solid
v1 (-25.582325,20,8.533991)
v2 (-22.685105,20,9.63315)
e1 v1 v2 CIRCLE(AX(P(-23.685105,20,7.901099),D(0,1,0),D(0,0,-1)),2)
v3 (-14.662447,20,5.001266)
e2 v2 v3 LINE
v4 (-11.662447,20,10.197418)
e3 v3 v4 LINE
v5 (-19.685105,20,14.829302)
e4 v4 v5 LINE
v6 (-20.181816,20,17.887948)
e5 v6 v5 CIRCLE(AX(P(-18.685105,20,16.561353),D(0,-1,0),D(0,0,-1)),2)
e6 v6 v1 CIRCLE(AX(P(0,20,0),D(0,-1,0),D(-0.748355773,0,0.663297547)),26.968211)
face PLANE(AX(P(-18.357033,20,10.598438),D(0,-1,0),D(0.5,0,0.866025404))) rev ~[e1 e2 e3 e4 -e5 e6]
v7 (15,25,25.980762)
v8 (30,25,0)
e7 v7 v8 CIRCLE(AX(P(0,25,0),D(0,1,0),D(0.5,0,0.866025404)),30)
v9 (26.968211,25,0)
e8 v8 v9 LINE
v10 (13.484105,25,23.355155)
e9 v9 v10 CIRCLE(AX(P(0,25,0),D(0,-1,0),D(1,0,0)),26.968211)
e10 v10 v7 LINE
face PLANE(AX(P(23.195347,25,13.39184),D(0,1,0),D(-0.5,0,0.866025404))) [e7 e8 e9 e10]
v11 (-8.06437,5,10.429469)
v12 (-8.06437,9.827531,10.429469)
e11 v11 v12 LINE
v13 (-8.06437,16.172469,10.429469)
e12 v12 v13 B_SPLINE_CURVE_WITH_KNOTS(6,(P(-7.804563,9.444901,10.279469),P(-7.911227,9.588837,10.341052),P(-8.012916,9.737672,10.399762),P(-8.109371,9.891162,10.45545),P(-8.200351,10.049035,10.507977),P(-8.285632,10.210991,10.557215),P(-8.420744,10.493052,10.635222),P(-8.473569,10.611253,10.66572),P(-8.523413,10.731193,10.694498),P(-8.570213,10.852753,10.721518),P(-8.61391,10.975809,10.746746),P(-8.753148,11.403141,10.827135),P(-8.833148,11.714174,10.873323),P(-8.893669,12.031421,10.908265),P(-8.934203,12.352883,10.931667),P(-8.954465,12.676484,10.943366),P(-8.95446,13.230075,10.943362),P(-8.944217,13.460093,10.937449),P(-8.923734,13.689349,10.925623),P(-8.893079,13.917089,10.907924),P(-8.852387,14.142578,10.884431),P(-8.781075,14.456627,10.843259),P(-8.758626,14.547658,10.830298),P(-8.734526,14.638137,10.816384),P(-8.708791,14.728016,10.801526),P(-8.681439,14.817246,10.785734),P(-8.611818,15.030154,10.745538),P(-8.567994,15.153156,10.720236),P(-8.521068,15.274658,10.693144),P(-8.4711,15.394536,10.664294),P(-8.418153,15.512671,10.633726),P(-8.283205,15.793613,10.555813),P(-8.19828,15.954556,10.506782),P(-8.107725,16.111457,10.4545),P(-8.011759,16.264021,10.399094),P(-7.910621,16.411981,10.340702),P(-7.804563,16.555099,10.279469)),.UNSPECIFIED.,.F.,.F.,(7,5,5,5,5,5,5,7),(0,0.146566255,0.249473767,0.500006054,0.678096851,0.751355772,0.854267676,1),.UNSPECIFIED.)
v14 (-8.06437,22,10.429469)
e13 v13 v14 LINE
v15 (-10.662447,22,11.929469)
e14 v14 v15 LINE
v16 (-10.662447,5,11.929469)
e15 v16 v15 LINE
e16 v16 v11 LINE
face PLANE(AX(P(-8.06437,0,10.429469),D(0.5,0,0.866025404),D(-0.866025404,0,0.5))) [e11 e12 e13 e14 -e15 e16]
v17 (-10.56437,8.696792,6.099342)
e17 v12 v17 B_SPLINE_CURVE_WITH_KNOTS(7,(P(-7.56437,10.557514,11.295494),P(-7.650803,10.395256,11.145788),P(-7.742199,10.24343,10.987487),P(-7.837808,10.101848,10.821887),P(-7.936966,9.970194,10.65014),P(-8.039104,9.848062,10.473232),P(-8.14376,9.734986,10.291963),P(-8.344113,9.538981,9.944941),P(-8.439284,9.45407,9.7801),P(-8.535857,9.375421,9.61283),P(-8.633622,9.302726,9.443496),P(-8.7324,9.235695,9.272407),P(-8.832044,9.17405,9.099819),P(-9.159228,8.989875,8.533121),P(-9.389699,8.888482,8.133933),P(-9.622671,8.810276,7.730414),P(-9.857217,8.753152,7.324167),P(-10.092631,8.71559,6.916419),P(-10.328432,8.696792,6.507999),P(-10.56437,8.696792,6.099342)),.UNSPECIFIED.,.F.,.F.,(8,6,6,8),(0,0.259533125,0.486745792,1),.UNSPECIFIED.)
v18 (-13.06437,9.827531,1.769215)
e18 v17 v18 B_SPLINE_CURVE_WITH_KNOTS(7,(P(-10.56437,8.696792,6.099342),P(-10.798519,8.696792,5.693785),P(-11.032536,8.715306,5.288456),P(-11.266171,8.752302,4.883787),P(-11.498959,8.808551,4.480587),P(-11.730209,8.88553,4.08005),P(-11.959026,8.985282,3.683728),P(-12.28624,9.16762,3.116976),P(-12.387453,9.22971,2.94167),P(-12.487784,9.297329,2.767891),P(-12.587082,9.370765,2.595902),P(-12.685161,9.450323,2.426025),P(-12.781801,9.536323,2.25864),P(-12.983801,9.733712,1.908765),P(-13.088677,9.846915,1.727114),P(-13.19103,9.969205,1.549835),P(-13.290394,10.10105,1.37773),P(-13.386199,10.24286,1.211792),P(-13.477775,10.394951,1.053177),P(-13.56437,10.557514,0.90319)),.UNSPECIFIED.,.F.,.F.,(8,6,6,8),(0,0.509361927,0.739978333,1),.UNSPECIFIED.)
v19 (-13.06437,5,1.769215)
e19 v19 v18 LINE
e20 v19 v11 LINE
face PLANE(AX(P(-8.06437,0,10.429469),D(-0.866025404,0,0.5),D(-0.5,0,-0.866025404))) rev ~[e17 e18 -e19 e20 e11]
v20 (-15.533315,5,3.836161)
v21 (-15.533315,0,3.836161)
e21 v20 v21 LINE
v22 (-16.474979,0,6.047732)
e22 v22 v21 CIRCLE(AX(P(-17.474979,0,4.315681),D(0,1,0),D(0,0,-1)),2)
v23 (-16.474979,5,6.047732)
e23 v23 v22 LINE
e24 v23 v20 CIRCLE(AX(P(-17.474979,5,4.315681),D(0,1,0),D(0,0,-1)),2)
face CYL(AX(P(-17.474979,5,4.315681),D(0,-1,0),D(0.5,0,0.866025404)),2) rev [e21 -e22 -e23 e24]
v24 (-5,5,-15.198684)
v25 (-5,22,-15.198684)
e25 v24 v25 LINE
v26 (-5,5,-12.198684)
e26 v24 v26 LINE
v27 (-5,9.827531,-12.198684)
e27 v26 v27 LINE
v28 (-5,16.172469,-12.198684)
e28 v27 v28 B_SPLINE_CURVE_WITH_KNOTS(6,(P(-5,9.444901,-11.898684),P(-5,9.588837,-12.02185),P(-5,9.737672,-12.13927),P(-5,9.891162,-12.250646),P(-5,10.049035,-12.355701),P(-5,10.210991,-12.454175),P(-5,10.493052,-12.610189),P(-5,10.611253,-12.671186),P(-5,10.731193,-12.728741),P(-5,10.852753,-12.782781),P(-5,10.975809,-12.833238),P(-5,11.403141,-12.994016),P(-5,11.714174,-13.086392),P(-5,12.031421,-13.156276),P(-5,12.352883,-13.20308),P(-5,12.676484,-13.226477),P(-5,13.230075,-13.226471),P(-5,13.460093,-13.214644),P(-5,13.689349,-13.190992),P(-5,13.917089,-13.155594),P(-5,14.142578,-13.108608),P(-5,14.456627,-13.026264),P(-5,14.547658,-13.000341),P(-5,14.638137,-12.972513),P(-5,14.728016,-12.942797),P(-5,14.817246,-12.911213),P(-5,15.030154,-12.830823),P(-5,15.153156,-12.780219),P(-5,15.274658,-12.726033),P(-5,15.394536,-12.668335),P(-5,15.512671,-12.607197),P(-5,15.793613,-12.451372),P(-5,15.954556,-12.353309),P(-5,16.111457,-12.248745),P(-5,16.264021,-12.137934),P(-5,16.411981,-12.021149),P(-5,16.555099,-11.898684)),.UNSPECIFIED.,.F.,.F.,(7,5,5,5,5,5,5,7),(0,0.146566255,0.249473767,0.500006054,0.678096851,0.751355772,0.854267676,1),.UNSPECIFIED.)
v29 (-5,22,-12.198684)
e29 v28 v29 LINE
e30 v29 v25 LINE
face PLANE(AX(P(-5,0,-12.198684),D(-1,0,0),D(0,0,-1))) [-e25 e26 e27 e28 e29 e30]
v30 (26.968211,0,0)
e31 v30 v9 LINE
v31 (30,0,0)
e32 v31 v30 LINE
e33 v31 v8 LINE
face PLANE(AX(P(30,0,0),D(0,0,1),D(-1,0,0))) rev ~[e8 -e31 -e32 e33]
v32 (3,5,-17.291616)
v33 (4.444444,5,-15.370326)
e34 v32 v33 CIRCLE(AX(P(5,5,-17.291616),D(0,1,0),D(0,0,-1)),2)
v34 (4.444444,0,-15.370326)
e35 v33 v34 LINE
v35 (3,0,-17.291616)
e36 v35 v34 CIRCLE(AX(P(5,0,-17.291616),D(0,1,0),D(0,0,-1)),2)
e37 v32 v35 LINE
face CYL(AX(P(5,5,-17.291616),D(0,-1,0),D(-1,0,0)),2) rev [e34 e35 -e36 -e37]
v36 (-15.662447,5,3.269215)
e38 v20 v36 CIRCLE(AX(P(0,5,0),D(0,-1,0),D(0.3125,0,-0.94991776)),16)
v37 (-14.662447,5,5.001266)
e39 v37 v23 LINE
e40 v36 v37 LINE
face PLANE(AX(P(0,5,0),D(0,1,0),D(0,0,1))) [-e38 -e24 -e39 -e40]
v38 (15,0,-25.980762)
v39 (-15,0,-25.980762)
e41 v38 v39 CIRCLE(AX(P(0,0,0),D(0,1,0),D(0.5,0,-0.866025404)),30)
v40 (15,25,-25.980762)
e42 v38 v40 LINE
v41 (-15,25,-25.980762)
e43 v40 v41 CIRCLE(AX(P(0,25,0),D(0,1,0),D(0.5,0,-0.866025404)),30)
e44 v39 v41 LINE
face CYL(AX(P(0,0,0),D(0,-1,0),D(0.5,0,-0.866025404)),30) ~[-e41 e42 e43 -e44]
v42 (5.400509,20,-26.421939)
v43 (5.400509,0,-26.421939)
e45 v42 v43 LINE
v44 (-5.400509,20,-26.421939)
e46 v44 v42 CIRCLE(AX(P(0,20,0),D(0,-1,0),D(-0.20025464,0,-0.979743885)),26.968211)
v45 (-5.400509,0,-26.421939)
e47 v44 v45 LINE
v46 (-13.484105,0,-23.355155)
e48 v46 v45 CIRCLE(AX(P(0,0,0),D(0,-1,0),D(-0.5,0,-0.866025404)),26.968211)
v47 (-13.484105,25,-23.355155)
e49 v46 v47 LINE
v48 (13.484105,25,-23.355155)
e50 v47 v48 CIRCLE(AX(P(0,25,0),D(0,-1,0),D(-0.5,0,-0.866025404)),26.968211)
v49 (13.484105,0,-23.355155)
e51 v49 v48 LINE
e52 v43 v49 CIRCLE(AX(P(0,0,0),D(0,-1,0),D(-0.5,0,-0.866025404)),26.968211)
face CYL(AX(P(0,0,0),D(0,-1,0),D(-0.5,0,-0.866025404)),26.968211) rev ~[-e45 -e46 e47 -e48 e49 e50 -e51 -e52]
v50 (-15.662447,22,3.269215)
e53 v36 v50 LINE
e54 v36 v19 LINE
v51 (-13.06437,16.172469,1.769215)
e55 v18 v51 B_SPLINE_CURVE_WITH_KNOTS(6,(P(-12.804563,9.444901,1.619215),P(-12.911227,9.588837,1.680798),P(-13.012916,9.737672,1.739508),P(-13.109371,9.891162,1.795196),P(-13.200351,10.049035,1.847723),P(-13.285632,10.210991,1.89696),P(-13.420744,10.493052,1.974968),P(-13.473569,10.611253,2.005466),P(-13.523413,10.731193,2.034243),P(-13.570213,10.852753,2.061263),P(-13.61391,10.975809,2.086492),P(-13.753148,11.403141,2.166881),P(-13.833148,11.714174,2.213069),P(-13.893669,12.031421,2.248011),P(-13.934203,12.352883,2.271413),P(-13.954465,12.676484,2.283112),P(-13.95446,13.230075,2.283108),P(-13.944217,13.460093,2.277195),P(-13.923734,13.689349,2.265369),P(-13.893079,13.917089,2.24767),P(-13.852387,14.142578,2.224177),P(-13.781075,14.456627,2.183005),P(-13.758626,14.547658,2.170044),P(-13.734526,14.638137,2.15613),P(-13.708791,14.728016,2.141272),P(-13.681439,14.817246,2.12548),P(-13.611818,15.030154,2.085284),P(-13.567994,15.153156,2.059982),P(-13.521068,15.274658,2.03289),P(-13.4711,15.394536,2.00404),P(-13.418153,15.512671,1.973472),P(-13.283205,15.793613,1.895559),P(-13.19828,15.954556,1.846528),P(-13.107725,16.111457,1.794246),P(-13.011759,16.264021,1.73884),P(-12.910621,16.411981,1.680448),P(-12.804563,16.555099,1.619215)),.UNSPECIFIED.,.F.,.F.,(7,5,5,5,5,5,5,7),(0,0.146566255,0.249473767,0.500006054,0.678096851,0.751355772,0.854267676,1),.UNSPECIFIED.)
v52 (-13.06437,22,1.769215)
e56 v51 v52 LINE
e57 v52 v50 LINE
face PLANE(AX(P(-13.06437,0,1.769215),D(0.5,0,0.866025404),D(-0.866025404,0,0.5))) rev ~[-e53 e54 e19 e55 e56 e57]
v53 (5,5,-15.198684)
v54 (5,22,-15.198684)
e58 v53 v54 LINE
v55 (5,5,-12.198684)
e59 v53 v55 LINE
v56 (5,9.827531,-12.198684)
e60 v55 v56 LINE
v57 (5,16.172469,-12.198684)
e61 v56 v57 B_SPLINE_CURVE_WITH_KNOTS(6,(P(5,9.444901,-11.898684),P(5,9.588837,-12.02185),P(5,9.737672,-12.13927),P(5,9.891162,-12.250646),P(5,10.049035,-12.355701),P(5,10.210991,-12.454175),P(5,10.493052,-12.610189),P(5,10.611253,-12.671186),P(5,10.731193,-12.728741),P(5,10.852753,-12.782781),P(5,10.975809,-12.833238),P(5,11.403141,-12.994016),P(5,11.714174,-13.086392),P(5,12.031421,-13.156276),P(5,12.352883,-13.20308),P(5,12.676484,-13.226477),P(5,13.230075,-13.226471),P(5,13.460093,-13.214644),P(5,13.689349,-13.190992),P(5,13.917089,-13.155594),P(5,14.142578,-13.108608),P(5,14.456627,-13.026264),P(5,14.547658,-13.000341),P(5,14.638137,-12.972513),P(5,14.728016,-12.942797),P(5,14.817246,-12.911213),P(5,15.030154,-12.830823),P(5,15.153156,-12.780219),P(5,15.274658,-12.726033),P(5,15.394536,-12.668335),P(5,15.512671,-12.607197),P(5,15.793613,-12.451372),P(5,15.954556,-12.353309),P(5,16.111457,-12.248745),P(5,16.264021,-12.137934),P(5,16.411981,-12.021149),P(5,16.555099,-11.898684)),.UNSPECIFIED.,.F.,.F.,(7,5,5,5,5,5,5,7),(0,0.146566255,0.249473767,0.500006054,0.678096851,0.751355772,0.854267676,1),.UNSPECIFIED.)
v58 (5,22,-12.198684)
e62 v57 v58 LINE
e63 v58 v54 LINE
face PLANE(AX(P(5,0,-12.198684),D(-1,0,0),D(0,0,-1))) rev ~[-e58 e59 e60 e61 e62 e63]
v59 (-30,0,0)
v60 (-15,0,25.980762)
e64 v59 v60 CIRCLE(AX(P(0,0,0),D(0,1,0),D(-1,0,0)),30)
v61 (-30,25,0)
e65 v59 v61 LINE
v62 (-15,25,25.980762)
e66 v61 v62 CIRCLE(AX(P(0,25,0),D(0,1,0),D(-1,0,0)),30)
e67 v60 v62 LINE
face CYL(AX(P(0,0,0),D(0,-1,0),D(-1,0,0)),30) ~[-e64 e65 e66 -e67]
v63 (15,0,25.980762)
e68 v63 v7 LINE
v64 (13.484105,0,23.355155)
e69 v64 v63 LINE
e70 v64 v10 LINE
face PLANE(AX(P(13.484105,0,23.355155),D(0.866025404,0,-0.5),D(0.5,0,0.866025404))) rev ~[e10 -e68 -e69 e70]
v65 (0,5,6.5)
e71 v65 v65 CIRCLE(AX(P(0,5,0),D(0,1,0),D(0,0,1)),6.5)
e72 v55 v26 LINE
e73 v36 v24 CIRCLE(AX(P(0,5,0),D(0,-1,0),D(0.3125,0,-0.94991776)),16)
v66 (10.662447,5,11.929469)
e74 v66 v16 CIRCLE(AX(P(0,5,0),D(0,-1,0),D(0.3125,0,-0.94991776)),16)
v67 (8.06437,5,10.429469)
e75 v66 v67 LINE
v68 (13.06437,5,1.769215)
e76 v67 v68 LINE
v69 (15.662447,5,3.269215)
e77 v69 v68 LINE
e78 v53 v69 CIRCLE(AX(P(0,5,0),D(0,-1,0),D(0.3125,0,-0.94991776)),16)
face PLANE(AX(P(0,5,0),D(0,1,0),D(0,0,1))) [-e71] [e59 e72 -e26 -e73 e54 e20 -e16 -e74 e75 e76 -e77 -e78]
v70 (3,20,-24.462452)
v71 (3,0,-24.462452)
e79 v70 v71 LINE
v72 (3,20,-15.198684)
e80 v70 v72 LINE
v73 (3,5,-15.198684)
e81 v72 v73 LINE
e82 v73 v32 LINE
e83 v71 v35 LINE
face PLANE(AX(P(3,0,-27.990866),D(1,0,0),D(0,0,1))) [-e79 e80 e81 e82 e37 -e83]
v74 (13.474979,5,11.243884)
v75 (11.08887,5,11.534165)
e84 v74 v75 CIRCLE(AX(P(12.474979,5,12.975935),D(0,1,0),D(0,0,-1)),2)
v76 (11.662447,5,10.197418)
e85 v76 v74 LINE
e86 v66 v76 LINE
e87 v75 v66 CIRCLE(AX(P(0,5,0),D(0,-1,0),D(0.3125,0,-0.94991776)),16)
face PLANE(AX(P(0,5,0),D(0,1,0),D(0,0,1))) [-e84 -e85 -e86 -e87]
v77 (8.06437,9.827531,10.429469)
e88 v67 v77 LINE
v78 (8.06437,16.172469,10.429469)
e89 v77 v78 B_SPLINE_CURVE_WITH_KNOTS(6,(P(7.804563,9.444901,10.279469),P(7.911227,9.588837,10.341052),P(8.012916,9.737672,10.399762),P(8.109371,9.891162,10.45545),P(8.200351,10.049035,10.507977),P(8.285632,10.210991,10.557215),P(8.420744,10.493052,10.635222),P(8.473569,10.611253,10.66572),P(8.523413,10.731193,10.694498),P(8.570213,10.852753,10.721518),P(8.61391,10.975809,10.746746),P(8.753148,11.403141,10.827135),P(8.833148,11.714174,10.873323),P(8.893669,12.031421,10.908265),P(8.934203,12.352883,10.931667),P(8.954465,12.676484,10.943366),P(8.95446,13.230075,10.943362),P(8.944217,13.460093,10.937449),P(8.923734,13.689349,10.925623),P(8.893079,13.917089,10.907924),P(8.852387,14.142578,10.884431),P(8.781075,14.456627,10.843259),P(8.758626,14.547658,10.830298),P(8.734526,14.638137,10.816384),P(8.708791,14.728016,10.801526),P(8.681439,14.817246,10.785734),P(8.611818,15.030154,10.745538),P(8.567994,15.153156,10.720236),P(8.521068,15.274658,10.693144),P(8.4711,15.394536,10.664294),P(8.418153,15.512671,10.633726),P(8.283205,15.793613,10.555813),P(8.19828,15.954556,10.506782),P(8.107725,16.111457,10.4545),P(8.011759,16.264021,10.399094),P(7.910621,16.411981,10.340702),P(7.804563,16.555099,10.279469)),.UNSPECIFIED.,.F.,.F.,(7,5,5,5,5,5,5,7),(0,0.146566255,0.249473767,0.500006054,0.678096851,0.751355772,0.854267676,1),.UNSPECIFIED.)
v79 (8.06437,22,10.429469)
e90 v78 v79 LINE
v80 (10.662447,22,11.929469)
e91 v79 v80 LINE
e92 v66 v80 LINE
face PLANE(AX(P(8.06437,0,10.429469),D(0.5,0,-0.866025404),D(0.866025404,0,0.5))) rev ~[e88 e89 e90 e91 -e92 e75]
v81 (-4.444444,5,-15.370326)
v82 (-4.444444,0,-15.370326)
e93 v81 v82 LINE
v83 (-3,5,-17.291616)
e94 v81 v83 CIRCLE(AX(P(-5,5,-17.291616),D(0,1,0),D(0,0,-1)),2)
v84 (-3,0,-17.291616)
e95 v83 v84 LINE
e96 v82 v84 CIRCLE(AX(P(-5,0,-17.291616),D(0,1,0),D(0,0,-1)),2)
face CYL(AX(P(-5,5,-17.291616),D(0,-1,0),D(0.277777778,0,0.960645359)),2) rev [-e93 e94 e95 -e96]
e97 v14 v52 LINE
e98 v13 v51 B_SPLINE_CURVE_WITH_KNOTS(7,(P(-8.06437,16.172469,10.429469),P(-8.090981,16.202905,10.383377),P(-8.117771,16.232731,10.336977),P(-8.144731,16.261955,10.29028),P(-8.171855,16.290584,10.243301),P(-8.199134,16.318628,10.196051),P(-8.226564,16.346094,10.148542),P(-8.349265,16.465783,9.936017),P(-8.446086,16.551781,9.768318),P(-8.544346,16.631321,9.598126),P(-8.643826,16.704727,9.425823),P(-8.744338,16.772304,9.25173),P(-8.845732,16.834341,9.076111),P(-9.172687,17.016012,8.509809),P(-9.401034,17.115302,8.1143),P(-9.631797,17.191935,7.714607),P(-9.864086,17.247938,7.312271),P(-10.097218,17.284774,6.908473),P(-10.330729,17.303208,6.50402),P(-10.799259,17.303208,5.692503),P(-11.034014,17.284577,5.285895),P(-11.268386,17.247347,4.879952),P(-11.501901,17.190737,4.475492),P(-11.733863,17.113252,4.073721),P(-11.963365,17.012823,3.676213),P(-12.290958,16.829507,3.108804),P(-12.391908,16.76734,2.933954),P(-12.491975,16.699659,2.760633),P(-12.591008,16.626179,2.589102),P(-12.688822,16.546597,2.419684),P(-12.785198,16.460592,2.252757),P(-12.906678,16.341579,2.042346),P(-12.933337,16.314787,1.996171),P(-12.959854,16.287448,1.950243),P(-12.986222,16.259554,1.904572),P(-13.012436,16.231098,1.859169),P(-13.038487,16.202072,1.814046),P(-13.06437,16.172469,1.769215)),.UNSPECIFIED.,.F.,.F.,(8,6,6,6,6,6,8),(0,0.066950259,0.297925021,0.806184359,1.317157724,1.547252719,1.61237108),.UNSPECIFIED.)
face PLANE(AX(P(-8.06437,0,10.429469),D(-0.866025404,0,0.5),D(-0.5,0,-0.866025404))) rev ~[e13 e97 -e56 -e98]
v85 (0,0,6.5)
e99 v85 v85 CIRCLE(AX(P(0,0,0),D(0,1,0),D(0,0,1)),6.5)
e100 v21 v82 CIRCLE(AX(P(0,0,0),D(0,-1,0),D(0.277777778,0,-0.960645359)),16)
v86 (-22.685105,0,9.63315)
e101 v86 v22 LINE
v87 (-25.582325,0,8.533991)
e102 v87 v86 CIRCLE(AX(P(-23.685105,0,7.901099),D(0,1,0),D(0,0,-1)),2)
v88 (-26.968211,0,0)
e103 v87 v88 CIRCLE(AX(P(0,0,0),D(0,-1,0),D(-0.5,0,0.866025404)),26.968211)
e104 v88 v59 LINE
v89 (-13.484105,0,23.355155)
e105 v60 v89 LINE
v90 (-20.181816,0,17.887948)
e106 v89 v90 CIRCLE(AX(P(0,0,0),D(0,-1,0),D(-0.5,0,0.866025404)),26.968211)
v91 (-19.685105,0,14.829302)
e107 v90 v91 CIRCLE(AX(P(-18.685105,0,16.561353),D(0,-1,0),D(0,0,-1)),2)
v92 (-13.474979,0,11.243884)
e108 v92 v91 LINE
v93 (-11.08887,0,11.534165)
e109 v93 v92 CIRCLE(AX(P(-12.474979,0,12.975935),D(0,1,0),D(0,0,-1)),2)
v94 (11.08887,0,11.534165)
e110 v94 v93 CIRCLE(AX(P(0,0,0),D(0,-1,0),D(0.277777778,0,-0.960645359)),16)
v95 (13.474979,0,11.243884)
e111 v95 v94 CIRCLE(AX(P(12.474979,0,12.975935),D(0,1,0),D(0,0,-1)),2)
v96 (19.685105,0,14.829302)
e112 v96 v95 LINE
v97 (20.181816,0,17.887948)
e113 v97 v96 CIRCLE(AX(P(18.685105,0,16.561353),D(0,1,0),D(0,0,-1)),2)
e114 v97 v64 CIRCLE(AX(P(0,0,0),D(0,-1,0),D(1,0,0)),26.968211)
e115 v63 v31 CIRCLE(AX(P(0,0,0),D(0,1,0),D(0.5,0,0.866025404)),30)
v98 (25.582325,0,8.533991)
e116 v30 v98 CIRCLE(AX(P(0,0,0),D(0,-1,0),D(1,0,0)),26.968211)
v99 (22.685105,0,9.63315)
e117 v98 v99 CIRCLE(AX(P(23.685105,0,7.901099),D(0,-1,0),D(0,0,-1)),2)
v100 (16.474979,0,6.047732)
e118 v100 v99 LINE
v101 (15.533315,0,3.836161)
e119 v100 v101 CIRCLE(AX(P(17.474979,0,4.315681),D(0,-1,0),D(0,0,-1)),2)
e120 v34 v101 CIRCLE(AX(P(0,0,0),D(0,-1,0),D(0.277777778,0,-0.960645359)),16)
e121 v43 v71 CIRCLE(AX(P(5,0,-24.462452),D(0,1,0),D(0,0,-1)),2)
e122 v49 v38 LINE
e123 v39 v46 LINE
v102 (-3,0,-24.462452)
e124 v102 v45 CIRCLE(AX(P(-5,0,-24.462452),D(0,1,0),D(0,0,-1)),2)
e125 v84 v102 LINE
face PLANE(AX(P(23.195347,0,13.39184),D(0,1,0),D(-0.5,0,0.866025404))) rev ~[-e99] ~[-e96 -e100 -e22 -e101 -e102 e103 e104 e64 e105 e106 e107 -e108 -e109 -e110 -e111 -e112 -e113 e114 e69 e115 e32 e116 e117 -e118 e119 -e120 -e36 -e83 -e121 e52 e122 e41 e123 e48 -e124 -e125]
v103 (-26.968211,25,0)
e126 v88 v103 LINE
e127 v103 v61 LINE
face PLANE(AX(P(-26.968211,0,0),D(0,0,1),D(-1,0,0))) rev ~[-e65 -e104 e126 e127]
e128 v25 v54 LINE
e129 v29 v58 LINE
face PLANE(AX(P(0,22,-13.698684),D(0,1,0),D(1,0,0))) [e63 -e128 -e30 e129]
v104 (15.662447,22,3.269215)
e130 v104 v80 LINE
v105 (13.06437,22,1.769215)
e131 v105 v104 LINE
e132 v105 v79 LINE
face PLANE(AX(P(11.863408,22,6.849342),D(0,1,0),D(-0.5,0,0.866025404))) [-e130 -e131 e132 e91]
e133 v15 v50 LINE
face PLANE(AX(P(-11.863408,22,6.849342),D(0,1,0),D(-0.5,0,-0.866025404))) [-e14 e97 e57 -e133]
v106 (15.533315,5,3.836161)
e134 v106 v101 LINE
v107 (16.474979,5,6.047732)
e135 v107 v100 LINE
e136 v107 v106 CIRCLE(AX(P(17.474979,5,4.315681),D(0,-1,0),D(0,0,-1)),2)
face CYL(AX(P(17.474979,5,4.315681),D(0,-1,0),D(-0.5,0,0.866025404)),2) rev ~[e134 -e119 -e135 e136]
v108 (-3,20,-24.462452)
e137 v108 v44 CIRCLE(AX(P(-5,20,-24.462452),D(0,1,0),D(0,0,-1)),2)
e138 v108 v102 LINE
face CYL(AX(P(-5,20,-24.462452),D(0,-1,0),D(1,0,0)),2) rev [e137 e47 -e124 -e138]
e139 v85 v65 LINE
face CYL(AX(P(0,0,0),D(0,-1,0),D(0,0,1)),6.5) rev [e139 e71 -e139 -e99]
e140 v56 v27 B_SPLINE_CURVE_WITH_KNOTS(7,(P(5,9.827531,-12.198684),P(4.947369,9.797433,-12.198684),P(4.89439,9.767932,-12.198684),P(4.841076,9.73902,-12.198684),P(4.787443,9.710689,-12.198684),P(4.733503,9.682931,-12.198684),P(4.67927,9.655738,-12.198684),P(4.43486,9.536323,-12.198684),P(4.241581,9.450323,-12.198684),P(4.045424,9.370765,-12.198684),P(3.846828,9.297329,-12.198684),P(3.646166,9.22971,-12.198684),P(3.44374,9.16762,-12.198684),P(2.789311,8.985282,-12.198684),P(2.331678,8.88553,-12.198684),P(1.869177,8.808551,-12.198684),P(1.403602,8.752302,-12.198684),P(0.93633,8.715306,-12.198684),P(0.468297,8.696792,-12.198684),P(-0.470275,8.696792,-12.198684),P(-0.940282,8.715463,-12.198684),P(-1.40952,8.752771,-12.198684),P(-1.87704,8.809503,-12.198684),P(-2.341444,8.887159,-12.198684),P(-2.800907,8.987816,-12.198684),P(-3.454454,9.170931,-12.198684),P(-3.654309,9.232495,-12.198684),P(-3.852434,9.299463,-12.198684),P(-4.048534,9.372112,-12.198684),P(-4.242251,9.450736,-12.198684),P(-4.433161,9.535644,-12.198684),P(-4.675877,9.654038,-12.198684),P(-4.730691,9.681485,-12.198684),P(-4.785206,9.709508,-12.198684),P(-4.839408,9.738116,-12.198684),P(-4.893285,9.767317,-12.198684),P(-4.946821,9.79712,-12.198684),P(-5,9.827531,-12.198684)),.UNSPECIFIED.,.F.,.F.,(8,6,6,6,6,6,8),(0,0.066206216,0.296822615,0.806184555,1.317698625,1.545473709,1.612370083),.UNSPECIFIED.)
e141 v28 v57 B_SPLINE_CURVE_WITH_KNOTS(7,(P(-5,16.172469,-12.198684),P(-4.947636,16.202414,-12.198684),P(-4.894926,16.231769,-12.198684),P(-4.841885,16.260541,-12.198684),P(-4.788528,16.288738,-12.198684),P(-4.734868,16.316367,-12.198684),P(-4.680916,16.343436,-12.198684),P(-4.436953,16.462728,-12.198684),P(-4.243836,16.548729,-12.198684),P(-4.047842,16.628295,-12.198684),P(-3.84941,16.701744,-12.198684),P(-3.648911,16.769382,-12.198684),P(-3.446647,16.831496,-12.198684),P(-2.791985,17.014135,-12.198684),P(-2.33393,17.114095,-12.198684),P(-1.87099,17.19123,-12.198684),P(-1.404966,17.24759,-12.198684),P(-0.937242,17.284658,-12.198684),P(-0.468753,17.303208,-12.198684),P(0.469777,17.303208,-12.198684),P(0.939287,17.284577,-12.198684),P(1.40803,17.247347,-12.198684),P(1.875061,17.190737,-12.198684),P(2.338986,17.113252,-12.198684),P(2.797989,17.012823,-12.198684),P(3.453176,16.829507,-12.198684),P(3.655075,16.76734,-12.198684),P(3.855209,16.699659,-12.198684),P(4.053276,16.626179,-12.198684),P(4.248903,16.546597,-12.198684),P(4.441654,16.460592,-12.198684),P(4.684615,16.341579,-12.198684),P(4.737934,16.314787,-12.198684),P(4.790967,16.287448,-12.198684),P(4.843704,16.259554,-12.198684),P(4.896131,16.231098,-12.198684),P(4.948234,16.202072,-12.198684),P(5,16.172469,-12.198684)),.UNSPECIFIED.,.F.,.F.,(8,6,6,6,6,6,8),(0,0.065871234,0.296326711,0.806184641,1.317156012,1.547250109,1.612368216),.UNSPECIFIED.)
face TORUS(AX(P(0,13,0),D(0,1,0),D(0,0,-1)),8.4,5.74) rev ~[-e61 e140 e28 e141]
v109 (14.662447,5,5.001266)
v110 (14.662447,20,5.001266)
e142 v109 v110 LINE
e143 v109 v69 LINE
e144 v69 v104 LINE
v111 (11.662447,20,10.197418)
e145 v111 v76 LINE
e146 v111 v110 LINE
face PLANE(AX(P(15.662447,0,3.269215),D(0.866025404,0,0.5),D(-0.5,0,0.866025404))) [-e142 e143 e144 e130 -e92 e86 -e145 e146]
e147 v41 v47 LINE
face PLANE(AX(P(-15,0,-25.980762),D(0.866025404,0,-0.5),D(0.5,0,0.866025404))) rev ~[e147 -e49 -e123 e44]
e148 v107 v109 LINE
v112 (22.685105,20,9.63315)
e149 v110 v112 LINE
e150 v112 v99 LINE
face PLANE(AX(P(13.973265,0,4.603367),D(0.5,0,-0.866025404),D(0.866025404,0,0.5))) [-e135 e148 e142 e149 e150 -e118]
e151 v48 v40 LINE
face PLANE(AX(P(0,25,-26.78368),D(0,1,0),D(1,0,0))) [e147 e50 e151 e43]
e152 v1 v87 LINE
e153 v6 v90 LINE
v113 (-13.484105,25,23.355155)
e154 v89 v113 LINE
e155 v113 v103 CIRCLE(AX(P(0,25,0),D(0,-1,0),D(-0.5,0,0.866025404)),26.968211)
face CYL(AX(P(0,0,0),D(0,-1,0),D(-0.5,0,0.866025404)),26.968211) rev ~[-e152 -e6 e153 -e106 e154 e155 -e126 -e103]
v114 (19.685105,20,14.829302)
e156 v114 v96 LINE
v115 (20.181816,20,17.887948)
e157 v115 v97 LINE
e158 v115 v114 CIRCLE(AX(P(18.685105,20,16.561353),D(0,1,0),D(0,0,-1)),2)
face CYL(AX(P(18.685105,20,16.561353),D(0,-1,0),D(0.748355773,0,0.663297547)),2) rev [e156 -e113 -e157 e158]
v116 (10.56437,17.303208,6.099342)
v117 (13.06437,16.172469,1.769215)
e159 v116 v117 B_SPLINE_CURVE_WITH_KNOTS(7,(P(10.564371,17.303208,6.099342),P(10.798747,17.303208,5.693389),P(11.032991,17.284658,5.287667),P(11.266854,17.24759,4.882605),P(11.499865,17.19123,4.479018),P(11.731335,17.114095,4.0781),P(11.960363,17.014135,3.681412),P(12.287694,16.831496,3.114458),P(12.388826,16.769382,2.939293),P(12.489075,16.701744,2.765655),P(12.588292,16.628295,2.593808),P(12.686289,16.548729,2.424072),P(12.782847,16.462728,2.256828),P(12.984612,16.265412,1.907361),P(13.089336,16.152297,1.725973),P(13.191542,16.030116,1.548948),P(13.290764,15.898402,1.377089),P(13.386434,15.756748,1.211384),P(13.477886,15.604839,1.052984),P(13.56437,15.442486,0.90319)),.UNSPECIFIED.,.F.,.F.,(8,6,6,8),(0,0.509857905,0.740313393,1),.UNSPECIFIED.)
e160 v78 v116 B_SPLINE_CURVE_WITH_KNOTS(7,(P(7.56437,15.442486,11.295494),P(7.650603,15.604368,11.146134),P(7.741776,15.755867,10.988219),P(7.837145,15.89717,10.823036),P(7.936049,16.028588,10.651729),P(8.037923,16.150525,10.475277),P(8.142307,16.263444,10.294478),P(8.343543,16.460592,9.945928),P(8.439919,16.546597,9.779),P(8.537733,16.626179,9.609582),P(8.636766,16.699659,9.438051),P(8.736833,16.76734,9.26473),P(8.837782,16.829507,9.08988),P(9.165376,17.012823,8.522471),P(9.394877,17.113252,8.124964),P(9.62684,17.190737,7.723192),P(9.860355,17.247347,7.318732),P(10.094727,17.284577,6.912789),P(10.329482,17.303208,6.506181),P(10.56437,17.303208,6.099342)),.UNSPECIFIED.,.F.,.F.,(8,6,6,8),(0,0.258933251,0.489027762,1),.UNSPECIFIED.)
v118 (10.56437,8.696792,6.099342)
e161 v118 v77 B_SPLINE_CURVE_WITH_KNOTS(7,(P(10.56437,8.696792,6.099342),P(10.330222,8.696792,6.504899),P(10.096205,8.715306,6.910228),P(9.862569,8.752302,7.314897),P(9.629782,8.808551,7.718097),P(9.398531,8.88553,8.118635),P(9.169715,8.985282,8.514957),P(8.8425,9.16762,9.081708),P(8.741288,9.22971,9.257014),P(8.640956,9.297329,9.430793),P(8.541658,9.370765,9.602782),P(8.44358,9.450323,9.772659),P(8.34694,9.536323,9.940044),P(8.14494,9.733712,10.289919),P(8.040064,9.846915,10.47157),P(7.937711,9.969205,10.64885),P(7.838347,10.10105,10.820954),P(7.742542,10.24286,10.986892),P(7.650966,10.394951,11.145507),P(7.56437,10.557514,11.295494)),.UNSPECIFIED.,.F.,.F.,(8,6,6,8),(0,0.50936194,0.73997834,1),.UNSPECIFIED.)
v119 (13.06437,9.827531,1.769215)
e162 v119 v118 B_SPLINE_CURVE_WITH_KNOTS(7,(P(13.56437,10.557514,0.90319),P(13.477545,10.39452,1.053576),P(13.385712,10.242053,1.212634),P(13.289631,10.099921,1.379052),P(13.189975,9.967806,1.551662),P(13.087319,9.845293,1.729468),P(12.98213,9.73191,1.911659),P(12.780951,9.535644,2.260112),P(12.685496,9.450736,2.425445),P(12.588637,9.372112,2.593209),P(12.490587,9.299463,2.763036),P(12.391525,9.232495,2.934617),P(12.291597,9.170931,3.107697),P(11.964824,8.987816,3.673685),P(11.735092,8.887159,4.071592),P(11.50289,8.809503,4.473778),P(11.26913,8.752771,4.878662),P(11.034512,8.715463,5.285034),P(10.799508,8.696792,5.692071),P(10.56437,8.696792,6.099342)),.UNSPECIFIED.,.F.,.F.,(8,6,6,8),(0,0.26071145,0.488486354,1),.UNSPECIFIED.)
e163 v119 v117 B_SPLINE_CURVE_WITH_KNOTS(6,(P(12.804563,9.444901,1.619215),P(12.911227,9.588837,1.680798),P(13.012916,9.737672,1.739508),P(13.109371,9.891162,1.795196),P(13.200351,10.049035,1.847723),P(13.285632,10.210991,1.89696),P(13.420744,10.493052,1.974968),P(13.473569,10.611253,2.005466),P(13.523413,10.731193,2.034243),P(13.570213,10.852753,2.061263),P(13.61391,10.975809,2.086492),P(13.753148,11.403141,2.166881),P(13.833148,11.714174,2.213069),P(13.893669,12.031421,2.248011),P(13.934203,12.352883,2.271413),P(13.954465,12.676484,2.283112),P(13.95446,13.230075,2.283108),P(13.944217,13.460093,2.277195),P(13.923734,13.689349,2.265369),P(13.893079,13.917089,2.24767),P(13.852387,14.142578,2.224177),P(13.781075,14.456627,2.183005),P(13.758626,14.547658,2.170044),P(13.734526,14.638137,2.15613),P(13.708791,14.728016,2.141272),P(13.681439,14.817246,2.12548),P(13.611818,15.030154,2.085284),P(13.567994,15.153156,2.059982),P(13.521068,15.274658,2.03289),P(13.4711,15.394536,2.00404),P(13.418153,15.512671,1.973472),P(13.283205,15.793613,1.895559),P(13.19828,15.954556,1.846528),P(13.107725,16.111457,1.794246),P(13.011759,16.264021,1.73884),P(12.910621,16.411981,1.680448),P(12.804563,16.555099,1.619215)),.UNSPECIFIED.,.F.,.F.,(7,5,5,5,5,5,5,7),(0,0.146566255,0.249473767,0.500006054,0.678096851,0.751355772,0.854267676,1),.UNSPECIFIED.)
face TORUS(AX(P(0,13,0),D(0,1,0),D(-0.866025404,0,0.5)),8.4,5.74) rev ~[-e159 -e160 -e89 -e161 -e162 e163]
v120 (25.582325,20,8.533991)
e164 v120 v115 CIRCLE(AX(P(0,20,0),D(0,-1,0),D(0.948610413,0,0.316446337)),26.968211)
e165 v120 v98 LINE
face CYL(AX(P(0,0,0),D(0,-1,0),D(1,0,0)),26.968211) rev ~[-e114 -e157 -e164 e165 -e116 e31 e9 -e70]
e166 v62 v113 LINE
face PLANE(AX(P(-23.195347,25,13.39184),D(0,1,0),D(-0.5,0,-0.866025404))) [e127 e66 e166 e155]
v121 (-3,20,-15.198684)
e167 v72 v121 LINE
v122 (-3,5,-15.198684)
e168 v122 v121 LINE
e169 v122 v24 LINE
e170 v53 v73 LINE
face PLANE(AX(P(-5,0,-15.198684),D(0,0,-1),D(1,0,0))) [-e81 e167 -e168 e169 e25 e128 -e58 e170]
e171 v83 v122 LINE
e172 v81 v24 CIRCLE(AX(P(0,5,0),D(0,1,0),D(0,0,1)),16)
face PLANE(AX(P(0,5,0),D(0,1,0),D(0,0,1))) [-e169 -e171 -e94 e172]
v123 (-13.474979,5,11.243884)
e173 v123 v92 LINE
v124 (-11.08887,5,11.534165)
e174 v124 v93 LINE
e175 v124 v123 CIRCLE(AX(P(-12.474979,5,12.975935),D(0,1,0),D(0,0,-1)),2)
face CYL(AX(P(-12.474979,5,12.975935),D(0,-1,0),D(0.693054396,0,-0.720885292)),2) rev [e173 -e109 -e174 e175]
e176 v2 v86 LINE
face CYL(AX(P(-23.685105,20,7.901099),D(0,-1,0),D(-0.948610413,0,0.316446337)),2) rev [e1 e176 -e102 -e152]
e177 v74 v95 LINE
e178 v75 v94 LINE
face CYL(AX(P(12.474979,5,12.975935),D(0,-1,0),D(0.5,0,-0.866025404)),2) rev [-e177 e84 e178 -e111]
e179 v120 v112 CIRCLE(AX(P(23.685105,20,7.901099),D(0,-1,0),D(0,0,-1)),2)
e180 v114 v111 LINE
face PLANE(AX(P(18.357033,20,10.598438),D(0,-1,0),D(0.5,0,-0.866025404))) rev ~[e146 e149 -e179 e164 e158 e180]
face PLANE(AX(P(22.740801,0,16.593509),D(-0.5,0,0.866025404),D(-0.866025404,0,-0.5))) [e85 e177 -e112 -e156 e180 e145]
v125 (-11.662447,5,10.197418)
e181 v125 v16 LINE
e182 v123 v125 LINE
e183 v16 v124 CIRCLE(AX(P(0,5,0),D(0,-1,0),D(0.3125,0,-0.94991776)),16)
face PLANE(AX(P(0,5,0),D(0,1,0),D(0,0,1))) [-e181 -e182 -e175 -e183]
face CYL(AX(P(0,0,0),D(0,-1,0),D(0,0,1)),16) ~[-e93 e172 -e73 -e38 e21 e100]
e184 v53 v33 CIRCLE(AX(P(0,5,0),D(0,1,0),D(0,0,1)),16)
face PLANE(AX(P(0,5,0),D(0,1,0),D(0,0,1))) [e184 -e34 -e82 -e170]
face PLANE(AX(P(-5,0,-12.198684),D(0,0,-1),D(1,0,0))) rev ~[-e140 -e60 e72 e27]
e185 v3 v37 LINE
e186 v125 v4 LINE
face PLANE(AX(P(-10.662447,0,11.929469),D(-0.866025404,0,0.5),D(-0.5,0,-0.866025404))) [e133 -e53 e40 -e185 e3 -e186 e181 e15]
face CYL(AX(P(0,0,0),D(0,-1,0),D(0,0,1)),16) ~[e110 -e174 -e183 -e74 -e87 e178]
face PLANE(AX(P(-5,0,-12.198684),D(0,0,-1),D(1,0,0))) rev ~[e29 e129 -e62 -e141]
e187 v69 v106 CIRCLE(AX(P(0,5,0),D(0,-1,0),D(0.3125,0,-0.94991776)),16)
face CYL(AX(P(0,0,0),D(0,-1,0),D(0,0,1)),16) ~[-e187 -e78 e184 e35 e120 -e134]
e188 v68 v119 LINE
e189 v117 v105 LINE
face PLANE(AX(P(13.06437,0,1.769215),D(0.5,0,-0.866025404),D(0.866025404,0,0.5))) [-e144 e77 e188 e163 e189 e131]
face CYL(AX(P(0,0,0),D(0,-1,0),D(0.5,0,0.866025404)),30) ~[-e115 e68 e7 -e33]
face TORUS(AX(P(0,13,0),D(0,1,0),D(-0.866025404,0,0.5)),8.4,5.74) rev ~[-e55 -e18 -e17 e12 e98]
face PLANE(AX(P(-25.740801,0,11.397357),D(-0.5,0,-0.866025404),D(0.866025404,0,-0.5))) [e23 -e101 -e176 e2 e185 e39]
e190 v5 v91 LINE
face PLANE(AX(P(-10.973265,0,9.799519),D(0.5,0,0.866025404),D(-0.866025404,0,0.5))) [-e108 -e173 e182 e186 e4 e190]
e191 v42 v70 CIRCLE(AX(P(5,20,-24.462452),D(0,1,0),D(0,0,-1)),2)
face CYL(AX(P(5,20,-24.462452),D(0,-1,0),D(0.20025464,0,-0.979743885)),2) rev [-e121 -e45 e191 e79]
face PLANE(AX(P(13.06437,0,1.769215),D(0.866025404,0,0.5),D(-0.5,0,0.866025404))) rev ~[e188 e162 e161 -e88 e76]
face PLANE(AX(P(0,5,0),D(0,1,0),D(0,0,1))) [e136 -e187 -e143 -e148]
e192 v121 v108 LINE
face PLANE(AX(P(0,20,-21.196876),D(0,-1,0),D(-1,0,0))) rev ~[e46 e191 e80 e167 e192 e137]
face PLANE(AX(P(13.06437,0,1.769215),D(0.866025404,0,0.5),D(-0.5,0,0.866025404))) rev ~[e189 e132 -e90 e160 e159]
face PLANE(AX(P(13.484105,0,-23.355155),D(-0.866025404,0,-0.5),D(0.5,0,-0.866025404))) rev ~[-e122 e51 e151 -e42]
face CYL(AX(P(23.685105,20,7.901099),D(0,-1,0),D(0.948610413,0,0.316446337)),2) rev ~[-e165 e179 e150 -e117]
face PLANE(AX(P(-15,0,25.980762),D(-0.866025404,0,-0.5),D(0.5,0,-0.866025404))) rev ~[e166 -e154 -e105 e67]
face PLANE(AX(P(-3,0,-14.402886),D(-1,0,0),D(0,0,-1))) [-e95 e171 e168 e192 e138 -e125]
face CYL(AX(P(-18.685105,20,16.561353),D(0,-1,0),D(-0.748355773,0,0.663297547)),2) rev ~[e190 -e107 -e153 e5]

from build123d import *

# Parameters (mm, degrees)
SKETCH_1_R               = 16
SKETCH_1_R_2             = 6.5
EXTRUDE_1_DEPTH          = 5
SKETCH_2_W               = 10
SKETCH_2_H               = 3
EXTRUDE_2_DEPTH          = 22
EXTRUDE_3_DEPTH          = 25
EXTRUDE_4_DEPTH          = 20
FILLET_1_R               = 2
FILLET_2_R               = 2
FILLET_3_R               = 2
FILLET_4_R               = 2
PATTERN_CIRCULAR_4_COUNT = 3
PATTERN_CIRCULAR_5_COUNT = 3
FILLET_5_R               = 2


with BuildPart() as part:
    # 草图1 → 凸台-拉伸1 (new body)
    with BuildSketch(Plane(origin=(0, 0, 0), x_dir=(1, 0, 0), z_dir=(0, 1, 0))):
        with Locations(Location((0, 0, 0), (0, 0, 270))):
            Circle(SKETCH_1_R)
        with Locations(Location((0, 0, 0), (0, 0, 270))):
            Circle(SKETCH_1_R_2, mode=Mode.SUBTRACT)
    extrude(amount=EXTRUDE_1_DEPTH)

    # 草图2 → 凸台-拉伸2 (add)
    with BuildSketch(Plane(origin=(0, 0, 0), x_dir=(1, 0, 0), z_dir=(0, 1, 0))):
        with Locations((-1.78e-15, 13.698684153570664)):
            Rectangle(SKETCH_2_W, SKETCH_2_H)
    extrude_2 = extrude(amount=EXTRUDE_2_DEPTH)



with BuildPart() as body_2:
    # 草图3 → 凸台-拉伸3 (new body)
    with BuildSketch(Plane(origin=(0, 0, 0), x_dir=(1, 0, 0), z_dir=(0, 1, 0))):
        with BuildLine():
            Line((-15.000000000000039, 25.98076211353314), (-13.484105265359647, 23.355155414209925))
            ThreePointArc((-13.484105265359647, 23.355155414209925), (1.65e-15, 26.968210530719293), (13.484105265359647, 23.355155414209925))
            Line((13.484105265359647, 23.355155414209925), (15.000000000000039, 25.98076211353314))
            ThreePointArc((15.000000000000039, 25.98076211353314), (1.84e-15, 30), (-15.000000000000039, 25.98076211353314))
        make_face()
    extrude_3 = extrude(amount=EXTRUDE_3_DEPTH)


with BuildPart() as part_1:
    add(part.part)

    add(body_2.part)  # 凸台-拉伸4 merges body 2
    # 草图4 → 凸台-拉伸4 (add)
    with BuildSketch(Plane(origin=(0, 0, 0), x_dir=(1, 0, 0), z_dir=(0, 1, 0))):
        Polygon((2.9999999999999964, 14.402885682574833), (-3.000000000000003, 14.402885682574832), (-3.0000000000000036, 27.990866329379006), (2.9999999999999964, 27.990866329379006), align=None)
    extrude_4 = extrude(amount=EXTRUDE_4_DEPTH)

    # 草图5 → 切除-旋转1 (revolve, cut)
    with BuildSketch(Plane(origin=(0, 0, 0), x_dir=(0, 0, -1), z_dir=(1, 0, 0))):
        with BuildLine():
            Line((12.198684153570664, 17.303207954702064), (8.4, 13))
            Line((8.4, 13), (12.198684153570664, 8.696792045297935))
            ThreePointArc((12.198684153570664, 8.696792045297935), (14.139999999999999, 13), (12.198684153570664, 17.303207954702064))
        make_face()
    cut_revolve_1 = revolve(axis=Axis((0, -2.5210076515236324, 0), (0, 1, 0)), mode=Mode.SUBTRACT)

    # 圆角1
    fillet_1_edges = [part_1.edges().sort_by_distance(p)[0] for p in [
        (2.9999999999999964, 10, -26.80082795790456),
    ]]
    fillet(fillet_1_edges, radius=FILLET_1_R)

    # 圆角2
    fillet_2_edges = [part_1.edges().sort_by_distance(p)[0] for p in [
        (-3.0000000000000036, 10, -26.80082795790456),
    ]]
    fillet(fillet_2_edges, radius=FILLET_2_R)

    # 圆角3
    fillet_3_edges = [part_1.edges().sort_by_distance(p)[0] for p in [
        (-3.000000000000003, 2.5, -15.71623364550171),
    ]]
    fillet(fillet_3_edges, radius=FILLET_3_R)

    # 圆角4
    fillet_4_edges = [part_1.edges().sort_by_distance(p)[0] for p in [
        (2.9999999999999964, 2.5, -15.716233645501712),
    ]]
    fillet(fillet_4_edges, radius=FILLET_4_R)

    # 阵列(圆周)4: 凸台-拉伸2, 凸台-拉伸4, 切除-旋转1 ×3 about axis
    pattern_circular_4_axis = Axis((1.5e-16, 0, 7.6e-16), (0, 1, 0))
    add([extrude_2.rotate(pattern_circular_4_axis, i * 360 / PATTERN_CIRCULAR_4_COUNT) for i in range(1, PATTERN_CIRCULAR_4_COUNT)])
    add([extrude_4.rotate(pattern_circular_4_axis, i * 360 / PATTERN_CIRCULAR_4_COUNT) for i in range(1, PATTERN_CIRCULAR_4_COUNT)])
    add([cut_revolve_1.rotate(pattern_circular_4_axis, i * 360 / PATTERN_CIRCULAR_4_COUNT) for i in range(1, PATTERN_CIRCULAR_4_COUNT)], mode=Mode.SUBTRACT)

    # 阵列(圆周)5: 凸台-拉伸3 ×3 about axis
    pattern_circular_5_axis = Axis((3.1e-16, 0, 6.1e-16), (0, 1, 0))
    for i in range(1, PATTERN_CIRCULAR_5_COUNT):
        add(extrude_3.rotate(pattern_circular_5_axis, i * 360 / PATTERN_CIRCULAR_5_COUNT))

    # 圆角5
    fillet_5_edges = [part_1.edges().sort_by_distance(p)[0] for p in [
        (12.110657588816196, 2.5, 10.456193034104174),
        (15.110657588816197, 2.5, 5.260040611397544),
        (-15.110657588816201, 2.5, 5.260040611397544),
        (-12.110657588816197, 2.5, 10.456193034104171),
        (24.710197854001564, 10, 10.802337767598974),
        (21.71019785400156, 10, 15.998490190305604),
        (-21.71019785400157, 10, 15.998490190305594),
        (-24.71019785400157, 10, 10.802337767598964),
    ]]
    fillet(fillet_5_edges, radius=FILLET_5_R)


solid = part_1.part
